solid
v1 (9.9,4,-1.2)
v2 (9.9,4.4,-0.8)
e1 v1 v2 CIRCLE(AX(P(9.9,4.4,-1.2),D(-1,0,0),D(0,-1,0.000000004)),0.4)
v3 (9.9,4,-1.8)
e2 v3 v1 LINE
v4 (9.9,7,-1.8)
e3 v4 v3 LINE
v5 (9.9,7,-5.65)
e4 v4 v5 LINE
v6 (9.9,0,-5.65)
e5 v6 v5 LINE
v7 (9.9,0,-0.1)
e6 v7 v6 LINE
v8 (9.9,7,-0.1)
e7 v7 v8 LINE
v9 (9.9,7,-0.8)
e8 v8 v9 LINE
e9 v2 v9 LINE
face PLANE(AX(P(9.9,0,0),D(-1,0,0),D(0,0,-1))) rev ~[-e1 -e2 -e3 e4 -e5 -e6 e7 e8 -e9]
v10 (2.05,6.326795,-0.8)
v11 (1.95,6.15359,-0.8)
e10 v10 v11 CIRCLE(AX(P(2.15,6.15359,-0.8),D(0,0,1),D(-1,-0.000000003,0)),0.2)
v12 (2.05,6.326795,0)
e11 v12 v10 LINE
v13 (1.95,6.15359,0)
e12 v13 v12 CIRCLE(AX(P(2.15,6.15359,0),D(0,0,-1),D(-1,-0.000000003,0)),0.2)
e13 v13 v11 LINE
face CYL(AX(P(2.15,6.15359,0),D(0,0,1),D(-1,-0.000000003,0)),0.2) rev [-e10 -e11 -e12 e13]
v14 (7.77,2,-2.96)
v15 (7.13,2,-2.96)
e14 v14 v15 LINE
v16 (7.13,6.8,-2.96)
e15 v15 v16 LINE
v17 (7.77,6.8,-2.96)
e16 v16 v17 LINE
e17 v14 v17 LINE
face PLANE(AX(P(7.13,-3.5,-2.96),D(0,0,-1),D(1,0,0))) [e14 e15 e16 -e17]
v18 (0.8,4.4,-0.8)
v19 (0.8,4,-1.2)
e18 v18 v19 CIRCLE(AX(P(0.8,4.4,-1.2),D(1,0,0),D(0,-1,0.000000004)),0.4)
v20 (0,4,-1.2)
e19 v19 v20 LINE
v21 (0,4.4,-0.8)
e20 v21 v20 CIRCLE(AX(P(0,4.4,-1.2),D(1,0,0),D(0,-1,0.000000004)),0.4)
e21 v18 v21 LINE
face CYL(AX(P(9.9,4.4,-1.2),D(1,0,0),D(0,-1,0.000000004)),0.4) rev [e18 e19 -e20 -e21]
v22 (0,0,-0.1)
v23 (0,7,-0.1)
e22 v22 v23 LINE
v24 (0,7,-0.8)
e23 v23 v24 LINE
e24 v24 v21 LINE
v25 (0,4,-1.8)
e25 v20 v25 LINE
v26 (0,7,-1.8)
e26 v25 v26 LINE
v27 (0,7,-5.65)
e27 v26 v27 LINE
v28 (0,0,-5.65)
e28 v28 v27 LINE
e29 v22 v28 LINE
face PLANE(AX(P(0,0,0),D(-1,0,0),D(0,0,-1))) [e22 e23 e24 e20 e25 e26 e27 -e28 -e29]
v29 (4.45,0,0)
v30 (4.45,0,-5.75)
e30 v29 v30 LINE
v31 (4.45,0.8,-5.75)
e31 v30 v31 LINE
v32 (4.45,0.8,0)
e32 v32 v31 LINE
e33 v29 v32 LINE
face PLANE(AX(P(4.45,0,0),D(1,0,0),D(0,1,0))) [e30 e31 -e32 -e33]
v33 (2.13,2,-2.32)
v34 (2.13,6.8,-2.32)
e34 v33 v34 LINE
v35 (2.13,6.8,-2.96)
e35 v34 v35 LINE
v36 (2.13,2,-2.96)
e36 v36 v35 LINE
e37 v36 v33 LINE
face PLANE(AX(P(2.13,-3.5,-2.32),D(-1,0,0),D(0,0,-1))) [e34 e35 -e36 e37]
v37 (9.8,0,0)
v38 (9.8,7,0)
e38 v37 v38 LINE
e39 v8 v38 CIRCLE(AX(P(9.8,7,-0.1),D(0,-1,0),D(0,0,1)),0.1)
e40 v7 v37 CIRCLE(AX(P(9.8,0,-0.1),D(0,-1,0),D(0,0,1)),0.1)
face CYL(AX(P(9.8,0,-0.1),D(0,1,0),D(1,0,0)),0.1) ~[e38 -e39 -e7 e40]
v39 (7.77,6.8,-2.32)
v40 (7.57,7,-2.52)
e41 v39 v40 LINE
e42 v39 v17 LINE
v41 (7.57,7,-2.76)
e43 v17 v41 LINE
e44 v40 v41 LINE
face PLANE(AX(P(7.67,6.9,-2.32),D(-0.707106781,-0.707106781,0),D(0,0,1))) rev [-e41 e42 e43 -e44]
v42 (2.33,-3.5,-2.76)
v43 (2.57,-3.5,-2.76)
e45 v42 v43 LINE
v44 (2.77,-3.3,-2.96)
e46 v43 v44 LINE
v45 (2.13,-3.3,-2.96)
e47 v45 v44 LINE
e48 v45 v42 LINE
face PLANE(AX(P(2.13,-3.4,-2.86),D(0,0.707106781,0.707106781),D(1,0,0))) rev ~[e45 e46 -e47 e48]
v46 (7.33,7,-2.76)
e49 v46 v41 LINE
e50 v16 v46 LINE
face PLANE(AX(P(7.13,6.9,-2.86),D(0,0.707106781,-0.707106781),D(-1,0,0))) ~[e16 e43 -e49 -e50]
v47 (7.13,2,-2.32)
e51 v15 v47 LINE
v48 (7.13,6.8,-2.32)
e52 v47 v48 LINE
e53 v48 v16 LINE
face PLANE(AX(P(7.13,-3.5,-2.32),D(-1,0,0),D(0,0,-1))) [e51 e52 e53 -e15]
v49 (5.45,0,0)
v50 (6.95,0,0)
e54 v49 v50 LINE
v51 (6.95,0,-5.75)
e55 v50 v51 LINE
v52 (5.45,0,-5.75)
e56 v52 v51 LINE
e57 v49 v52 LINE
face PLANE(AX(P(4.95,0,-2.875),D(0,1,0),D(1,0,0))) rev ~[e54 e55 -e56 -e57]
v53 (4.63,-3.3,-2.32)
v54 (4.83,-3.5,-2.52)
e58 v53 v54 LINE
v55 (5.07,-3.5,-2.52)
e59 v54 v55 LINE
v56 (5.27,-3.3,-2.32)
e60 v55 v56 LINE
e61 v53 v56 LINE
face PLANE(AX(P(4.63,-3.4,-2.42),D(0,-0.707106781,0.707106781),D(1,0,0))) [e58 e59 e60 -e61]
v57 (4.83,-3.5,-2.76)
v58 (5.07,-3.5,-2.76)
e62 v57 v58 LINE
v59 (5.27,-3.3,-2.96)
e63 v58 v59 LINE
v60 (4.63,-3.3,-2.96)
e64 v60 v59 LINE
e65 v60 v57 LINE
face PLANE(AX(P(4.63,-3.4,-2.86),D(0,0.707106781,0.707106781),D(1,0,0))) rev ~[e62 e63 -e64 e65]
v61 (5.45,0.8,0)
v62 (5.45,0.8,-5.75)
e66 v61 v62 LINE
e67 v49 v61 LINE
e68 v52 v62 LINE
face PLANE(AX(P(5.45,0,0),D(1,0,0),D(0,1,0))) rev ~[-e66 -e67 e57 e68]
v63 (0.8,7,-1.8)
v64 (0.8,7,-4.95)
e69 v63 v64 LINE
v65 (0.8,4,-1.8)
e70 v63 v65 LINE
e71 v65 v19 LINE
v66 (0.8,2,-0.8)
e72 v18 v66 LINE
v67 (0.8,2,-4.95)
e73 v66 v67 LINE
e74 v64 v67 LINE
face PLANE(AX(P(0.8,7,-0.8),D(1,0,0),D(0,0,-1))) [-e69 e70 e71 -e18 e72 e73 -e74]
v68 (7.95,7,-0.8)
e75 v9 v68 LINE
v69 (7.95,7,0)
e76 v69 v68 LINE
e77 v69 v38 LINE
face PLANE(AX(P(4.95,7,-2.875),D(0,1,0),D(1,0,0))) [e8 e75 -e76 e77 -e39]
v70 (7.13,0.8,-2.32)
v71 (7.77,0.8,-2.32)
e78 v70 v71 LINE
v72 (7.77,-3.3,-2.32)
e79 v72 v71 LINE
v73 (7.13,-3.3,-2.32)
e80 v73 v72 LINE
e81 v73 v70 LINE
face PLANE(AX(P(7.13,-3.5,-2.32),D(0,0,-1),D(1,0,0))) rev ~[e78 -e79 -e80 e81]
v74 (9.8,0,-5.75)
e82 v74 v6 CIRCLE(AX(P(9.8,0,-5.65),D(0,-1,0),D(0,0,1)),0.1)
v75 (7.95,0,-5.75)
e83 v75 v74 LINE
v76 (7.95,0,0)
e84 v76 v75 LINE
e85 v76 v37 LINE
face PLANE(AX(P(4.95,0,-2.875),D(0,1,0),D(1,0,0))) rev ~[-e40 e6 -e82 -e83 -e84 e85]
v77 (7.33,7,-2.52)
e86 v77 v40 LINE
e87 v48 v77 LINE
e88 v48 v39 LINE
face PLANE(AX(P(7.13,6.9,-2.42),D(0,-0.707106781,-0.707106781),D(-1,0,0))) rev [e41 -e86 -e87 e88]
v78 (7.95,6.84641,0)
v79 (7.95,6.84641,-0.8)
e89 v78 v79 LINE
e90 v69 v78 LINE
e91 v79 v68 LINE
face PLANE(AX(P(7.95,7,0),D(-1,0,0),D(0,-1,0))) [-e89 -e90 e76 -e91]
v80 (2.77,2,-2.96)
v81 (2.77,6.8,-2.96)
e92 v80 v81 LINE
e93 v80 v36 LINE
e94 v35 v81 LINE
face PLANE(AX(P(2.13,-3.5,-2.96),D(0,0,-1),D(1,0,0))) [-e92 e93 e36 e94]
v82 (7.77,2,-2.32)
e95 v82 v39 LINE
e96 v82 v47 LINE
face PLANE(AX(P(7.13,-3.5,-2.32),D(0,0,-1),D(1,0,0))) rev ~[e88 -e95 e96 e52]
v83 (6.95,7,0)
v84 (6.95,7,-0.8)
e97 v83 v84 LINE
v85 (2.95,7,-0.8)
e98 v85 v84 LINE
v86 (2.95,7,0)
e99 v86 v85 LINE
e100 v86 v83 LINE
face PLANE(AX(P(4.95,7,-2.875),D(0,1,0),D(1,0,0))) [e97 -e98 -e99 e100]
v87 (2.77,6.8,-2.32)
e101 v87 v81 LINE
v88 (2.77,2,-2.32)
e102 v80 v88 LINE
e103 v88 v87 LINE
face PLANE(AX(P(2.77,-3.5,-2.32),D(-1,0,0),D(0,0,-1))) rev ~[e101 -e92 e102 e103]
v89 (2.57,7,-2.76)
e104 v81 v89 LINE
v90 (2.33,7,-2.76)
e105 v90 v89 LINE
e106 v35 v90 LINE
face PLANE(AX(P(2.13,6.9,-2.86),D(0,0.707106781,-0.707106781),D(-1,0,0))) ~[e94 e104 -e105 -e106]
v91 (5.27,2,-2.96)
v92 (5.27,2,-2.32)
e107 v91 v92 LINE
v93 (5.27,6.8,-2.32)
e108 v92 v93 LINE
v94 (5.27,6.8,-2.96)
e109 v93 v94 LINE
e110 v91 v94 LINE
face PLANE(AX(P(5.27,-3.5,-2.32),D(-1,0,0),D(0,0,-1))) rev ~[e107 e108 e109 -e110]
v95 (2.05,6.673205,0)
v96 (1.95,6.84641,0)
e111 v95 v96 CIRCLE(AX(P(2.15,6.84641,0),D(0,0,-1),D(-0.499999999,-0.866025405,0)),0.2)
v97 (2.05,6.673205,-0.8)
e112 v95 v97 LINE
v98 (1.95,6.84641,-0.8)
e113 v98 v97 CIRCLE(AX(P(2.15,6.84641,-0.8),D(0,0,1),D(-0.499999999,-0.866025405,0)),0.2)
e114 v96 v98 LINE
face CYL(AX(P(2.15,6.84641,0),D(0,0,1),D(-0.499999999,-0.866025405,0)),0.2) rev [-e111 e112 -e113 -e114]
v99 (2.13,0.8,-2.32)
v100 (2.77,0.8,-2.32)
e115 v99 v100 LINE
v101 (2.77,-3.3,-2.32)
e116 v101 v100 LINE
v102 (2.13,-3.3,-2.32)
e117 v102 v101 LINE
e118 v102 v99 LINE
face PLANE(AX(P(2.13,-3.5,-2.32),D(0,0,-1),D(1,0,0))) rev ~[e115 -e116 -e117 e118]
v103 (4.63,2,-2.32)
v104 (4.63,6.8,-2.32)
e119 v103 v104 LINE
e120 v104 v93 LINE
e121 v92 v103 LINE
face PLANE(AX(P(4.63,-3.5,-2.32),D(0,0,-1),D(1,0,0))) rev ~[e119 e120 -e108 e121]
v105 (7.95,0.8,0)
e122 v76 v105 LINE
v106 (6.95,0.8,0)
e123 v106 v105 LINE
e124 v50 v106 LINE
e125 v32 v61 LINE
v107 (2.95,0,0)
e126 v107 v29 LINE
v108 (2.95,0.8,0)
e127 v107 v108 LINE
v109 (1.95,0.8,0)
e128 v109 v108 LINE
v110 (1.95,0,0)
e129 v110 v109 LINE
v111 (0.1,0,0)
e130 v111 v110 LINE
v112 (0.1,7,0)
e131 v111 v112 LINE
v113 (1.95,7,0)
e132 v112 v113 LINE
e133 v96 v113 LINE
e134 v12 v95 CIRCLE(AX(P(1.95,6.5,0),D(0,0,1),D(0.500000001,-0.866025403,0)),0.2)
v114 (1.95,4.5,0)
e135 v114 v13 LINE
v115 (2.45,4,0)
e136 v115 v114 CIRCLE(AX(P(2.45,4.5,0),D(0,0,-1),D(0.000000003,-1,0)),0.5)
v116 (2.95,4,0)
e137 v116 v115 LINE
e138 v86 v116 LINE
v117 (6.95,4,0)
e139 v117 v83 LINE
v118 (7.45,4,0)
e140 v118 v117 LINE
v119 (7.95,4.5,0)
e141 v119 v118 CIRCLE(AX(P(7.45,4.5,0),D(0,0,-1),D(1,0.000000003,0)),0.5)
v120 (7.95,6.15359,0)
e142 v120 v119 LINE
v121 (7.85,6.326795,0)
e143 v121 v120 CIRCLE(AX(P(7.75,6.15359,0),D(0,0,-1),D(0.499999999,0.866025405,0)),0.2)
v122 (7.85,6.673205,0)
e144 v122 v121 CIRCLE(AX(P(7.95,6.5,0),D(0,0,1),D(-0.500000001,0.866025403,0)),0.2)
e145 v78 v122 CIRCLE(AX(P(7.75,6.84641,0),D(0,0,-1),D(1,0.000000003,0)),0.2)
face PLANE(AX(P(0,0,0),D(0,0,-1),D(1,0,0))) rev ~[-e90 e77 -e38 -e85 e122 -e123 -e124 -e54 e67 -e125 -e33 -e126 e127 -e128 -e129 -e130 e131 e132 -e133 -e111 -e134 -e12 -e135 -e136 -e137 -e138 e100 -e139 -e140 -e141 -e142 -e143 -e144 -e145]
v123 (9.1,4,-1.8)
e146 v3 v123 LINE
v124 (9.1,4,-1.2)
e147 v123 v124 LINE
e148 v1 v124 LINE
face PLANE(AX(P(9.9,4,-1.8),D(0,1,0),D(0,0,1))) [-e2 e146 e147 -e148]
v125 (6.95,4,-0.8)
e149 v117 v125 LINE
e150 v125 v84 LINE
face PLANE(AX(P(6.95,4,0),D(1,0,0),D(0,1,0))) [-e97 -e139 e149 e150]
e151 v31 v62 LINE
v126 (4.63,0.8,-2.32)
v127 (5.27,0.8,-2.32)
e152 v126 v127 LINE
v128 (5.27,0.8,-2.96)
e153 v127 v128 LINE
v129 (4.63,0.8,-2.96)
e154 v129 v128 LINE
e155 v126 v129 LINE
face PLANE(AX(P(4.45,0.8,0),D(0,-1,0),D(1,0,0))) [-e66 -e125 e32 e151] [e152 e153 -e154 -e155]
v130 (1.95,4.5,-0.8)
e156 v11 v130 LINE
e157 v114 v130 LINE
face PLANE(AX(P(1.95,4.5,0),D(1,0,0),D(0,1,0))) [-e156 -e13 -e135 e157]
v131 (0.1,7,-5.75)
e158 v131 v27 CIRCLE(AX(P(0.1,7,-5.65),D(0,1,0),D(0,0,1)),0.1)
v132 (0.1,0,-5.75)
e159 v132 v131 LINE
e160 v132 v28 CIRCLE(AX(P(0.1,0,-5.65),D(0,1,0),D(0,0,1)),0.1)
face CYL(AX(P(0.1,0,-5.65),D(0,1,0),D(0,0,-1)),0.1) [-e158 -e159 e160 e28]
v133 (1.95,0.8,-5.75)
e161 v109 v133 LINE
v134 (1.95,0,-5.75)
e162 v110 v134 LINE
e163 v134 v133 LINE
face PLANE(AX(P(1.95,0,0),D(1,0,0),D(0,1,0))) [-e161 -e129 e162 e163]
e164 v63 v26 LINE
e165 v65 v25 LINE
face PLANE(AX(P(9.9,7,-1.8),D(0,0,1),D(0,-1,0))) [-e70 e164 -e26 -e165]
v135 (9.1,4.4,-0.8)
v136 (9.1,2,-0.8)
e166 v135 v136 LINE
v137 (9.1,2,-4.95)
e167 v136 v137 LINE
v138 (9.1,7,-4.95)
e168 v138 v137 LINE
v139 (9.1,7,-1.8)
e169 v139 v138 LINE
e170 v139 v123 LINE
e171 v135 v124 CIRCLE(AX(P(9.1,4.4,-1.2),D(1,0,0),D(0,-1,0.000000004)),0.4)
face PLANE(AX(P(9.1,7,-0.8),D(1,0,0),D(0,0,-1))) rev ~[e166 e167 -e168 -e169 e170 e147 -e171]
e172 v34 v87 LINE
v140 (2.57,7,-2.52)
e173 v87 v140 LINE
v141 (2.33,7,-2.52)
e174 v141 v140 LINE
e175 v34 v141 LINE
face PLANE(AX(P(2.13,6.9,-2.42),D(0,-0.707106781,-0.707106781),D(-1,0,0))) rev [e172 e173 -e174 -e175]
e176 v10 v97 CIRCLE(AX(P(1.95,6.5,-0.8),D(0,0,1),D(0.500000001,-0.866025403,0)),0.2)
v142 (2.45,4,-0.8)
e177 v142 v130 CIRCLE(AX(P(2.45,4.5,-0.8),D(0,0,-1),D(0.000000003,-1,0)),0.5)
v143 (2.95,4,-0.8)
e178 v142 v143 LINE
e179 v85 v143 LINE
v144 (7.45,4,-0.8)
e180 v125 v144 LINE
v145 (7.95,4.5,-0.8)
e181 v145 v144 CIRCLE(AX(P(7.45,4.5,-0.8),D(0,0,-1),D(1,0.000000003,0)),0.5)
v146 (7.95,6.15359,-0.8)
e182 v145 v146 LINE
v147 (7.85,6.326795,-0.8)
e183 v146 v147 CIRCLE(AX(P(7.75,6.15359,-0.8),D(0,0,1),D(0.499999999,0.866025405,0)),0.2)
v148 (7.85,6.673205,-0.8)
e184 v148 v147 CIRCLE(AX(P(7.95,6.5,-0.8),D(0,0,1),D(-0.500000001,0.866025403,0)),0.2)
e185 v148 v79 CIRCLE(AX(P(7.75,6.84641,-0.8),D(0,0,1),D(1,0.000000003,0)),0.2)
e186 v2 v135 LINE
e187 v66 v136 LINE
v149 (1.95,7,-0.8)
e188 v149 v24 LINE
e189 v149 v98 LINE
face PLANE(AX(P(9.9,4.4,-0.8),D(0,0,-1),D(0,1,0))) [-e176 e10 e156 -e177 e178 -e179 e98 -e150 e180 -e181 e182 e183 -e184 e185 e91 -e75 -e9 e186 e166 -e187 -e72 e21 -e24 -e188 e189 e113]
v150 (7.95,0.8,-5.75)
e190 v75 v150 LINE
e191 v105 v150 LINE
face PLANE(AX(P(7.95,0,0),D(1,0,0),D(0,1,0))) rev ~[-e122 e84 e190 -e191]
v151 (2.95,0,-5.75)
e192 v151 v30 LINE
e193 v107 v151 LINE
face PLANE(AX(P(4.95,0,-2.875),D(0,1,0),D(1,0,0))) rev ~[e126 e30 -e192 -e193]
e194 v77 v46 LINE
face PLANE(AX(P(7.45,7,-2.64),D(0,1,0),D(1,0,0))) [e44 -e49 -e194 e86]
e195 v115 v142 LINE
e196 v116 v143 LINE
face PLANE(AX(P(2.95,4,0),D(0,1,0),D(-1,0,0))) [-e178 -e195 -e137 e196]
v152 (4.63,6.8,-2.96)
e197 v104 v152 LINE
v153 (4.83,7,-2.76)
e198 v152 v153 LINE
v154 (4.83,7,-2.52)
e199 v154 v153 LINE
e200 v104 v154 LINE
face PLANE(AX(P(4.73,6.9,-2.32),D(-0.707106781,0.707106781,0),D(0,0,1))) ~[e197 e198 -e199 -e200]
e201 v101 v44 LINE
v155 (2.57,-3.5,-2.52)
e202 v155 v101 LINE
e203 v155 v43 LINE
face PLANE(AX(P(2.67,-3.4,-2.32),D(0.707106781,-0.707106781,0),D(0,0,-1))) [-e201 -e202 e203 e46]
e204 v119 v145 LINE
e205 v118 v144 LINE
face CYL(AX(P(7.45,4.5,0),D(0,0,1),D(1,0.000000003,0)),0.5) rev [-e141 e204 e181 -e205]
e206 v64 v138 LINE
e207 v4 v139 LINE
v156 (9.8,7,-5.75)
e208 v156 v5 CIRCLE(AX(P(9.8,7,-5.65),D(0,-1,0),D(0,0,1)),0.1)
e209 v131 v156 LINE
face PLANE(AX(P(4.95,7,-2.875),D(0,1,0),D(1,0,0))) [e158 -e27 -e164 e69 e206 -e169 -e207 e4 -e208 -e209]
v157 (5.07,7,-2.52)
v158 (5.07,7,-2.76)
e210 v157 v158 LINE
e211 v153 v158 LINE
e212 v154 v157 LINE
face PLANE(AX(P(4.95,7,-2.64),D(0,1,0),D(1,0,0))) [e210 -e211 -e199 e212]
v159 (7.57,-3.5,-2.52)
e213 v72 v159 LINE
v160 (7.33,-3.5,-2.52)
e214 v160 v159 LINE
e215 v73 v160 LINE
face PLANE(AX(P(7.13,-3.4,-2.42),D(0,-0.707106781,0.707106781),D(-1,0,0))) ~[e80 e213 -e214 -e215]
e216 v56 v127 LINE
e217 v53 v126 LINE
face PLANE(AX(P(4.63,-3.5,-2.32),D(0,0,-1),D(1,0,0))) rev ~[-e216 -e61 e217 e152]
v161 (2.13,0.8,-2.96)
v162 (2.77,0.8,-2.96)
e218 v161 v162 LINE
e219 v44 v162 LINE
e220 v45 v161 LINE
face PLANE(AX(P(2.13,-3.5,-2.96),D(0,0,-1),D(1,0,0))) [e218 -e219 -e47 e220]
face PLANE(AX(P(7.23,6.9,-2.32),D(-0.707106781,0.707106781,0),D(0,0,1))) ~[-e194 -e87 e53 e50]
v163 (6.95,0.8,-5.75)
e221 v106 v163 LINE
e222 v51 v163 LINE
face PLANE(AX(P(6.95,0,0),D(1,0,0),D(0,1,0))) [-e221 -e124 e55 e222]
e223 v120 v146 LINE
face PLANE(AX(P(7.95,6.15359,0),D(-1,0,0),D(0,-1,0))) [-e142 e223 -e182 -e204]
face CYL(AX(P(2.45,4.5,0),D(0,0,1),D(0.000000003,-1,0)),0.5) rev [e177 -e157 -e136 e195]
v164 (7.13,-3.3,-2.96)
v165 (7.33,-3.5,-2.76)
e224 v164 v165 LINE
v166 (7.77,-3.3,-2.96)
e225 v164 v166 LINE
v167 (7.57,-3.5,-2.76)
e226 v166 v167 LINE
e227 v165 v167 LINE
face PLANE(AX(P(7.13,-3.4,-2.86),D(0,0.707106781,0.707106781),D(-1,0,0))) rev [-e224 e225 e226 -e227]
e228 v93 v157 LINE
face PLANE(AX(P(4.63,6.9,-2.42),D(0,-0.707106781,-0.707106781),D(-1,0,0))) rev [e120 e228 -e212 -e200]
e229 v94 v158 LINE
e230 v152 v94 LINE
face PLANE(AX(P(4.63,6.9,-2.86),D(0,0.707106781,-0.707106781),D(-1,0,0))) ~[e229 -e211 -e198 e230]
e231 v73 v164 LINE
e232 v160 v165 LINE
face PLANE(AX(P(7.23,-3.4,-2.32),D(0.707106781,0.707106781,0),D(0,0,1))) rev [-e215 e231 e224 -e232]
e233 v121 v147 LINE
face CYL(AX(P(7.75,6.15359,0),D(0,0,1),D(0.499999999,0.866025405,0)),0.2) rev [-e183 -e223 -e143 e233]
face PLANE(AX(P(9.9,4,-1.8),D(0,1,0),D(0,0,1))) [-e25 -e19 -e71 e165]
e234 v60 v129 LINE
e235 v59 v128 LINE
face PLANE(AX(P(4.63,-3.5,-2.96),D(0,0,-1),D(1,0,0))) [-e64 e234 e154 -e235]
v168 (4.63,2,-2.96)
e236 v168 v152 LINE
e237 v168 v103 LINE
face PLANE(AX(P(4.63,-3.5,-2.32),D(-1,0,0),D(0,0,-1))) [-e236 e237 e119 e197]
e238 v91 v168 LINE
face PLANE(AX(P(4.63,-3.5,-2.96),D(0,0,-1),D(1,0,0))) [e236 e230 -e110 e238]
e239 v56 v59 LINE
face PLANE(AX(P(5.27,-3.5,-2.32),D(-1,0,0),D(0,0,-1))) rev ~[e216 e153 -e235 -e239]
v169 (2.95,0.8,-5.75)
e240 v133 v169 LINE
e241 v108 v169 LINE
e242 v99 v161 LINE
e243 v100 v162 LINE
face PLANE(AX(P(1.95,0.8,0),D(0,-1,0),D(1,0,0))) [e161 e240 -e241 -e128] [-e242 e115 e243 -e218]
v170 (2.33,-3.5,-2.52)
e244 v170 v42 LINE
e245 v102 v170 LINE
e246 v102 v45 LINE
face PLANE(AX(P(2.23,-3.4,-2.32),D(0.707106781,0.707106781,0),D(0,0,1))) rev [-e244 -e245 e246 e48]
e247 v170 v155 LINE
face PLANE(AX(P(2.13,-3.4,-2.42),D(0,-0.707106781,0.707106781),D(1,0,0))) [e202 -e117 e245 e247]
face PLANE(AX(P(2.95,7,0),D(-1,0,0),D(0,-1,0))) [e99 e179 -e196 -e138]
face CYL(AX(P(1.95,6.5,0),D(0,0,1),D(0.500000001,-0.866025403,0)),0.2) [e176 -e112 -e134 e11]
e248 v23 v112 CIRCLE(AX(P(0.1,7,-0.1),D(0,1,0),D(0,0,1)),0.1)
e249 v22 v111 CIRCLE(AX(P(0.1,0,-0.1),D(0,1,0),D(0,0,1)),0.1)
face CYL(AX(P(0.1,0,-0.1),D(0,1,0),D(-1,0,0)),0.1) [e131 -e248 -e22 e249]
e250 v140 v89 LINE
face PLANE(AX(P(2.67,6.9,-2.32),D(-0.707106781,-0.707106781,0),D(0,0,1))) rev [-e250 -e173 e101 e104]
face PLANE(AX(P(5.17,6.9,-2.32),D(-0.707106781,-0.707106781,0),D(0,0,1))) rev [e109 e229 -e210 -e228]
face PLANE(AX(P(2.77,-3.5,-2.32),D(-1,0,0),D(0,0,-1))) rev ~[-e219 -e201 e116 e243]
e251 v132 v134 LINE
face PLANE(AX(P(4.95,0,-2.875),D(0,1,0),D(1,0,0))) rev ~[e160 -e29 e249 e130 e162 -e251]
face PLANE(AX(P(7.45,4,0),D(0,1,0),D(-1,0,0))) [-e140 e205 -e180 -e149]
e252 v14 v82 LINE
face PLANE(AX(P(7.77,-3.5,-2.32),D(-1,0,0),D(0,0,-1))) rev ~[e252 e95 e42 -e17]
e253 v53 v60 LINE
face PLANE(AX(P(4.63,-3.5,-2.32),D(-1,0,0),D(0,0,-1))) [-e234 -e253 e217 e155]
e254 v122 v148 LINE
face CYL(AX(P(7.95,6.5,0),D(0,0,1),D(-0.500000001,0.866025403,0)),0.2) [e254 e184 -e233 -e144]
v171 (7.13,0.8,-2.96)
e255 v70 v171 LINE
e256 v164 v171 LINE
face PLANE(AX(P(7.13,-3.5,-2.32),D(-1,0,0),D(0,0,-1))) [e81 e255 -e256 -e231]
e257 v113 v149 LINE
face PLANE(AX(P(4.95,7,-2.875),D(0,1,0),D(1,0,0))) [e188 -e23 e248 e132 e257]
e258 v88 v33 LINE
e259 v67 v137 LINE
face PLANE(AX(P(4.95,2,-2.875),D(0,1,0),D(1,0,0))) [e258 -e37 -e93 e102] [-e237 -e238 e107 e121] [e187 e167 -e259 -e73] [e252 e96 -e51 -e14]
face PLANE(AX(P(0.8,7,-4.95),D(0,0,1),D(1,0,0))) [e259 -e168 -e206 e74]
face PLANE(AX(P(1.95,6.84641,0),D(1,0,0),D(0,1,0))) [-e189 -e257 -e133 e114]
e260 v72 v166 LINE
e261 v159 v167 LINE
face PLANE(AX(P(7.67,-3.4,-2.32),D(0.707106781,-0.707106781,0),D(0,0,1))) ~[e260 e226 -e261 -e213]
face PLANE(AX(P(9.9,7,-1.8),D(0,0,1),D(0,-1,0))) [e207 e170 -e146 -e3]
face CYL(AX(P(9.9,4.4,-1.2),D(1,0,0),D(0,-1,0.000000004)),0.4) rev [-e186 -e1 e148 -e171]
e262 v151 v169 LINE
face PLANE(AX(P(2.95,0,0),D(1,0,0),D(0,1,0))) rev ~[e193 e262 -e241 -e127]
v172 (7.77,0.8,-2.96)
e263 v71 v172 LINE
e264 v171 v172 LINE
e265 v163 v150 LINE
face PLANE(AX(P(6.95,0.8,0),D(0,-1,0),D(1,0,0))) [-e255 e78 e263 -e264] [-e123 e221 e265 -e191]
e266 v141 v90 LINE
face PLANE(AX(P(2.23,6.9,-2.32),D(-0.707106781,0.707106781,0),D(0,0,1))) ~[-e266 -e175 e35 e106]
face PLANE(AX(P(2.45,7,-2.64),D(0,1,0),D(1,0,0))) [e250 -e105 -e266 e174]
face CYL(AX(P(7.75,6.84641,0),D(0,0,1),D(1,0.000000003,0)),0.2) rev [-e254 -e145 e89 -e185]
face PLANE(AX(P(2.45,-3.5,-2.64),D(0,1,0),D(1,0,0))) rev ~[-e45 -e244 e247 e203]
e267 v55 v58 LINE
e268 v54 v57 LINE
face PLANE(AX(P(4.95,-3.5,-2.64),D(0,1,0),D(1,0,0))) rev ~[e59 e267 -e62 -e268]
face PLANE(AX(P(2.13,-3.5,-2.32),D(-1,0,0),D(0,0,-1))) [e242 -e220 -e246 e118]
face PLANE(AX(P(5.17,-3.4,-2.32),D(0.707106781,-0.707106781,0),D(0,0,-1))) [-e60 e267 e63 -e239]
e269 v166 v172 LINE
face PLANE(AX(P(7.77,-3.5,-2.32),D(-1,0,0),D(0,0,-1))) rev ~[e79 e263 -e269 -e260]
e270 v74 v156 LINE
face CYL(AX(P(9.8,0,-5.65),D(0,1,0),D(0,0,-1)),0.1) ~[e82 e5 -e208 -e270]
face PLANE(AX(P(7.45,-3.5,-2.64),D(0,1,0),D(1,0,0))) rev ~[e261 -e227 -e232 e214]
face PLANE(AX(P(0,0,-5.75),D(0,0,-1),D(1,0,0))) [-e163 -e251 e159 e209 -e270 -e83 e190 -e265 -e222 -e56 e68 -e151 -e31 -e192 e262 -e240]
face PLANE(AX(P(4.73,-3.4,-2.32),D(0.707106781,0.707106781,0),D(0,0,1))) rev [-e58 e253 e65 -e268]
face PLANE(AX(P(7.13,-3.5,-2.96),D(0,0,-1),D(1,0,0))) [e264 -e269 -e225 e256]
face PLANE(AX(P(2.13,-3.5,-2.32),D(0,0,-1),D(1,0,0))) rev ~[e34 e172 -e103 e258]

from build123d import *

# Parameters (mm, degrees)
SKETCH_1_W                         = 9.9
SKETCH_1_H                         = 5.75
EXTRUDE_1_DEPTH                    = 7
SKETCH_2_W                         = 8.3
SKETCH_2_H                         = 4.15
CUT_EXTRUDE_1_DEPTH                = 5
CUT_EXTRUDE_2_REACH                = 15.419
SKETCH_3_W                         = 1
SKETCH_3_H                         = 0.8
EXTRUDE_START                      = -5.5
SKETCH_4_W                         = 0.64
SKETCH_4_H                         = 0.64
EXTRUDE_2_DEPTH                    = 10.5
CHAMFER_1_SIZE                     = 0.2
PATTERN_LINEAR_4_COUNT             = 3
PATTERN_LINEAR_4_PITCH             = 2.5
CHAMFER_1_OF_PATTERN_LINEAR_4_SIZE = 0.2
CUT_EXTRUDE_3_REACH                = 15.419
CUT_EXTRUDE_4_DEPTH                = 14.419109508
FILLET_1_R                         = 0.1


with BuildPart() as part:
    # Эскиз1 → Бобышка-Вытянуть1 (new body)
    with BuildSketch(Plane(origin=(0, 0, 0), x_dir=(1, 0, 0), z_dir=(0, 1, 0))):
        with Locations((4.95, 2.875)):
            Rectangle(SKETCH_1_W, SKETCH_1_H)
    extrude(amount=EXTRUDE_1_DEPTH)

    # Эскиз2 → Вырез-Вытянуть1 (cut)
    with BuildSketch(Plane(origin=(0, 7, 0), x_dir=(1, 0, 0), z_dir=(0, 1, 0))):
        with Locations((4.95, 2.875)):
            Rectangle(SKETCH_2_W, SKETCH_2_H)
    extrude(amount=-CUT_EXTRUDE_1_DEPTH, mode=Mode.SUBTRACT)

    # Эскиз3 → Вырез-Вытянуть2 (cut, up to next)
    with BuildSketch(Plane.XY, mode=Mode.PRIVATE) as cut_extrude_2_sk1:
        with Locations((2.45, 0.4)):
            Rectangle(SKETCH_3_W, SKETCH_3_H)
    cut_extrude_2_tool1 = extrude(cut_extrude_2_sk1.sketch, amount=-CUT_EXTRUDE_2_REACH, mode=Mode.PRIVATE) & part.part
    # Эскиз3 → Вырез-Вытянуть2 (cut, up to next)
    with BuildSketch(Plane.XY, mode=Mode.PRIVATE) as cut_extrude_2_sk2:
        with Locations((4.95, 0.4)):
            Rectangle(SKETCH_3_W, SKETCH_3_H)
    cut_extrude_2_tool2 = extrude(cut_extrude_2_sk2.sketch, amount=-CUT_EXTRUDE_2_REACH, mode=Mode.PRIVATE) & part.part
    # Эскиз3 → Вырез-Вытянуть2 (cut, up to next)
    with BuildSketch(Plane.XY, mode=Mode.PRIVATE) as cut_extrude_2_sk3:
        with Locations((7.45, 0.4)):
            Rectangle(SKETCH_3_W, SKETCH_3_H)
    cut_extrude_2_tool3 = extrude(cut_extrude_2_sk3.sketch, amount=-CUT_EXTRUDE_2_REACH, mode=Mode.PRIVATE) & part.part
    add(cut_extrude_2_tool1.solids().sort_by_distance((2.45, 0.4, 0))[0], mode=Mode.SUBTRACT)
    add(cut_extrude_2_tool2.solids().sort_by_distance((4.95, 0.4, 0))[0], mode=Mode.SUBTRACT)
    add(cut_extrude_2_tool3.solids().sort_by_distance((7.45, 0.4, 0))[0], mode=Mode.SUBTRACT)

    # Эскиз4 → Бобышка-Вытянуть2 (add)
    with BuildSketch(Plane(origin=(0, 2, 0), x_dir=(1, 0, 0), z_dir=(0, 1, 0)).offset(EXTRUDE_START)):
        with Locations((2.45, 2.64)):
            Rectangle(SKETCH_4_W, SKETCH_4_H)
    extrude_2 = extrude(amount=EXTRUDE_2_DEPTH)

    # Фаска1
    chamfer_1_edges = [part.edges().sort_by_distance(p)[0] for p in [
        (2.13, 7, -2.64),
        (2.13, -3.5, -2.64),
        (2.45, 7, -2.96),
        (2.45, -3.5, -2.96),
        (2.77, 7, -2.64),
        (2.77, -3.5, -2.64),
        (2.45, 7, -2.32),
        (2.45, -3.5, -2.32),
    ]]
    chamfer(chamfer_1_edges, length=CHAMFER_1_SIZE)

    # Линейный массив4: Бобышка-Вытянуть2 ×3
    with Locations(*[(i * PATTERN_LINEAR_4_PITCH, 0, 0) for i in range(1, PATTERN_LINEAR_4_COUNT)]):
        add(extrude_2)

    # Фаска1 of Линейный массив4
    chamfer_1_of_pattern_linear_4_edges = [part.edges().sort_by_distance(p)[0] for p in [
        (4.63, 7, -2.64),
        (4.63, -3.5, -2.64),
        (4.95, 7, -2.96),
        (4.95, -3.5, -2.96),
        (5.27, 7, -2.64),
        (5.27, -3.5, -2.64),
        (4.95, 7, -2.32),
        (4.95, -3.5, -2.32),
        (7.13, 7, -2.64),
        (7.13, -3.5, -2.64),
        (7.45, 7, -2.96),
        (7.45, -3.5, -2.96),
        (7.77, 7, -2.64),
        (7.77, -3.5, -2.64),
        (7.45, 7, -2.32),
        (7.45, -3.5, -2.32),
    ]]
    chamfer(chamfer_1_of_pattern_linear_4_edges, length=CHAMFER_1_OF_PATTERN_LINEAR_4_SIZE)

    # Эскиз5 → Вырез-Вытянуть3 (cut, up to next)
    with BuildSketch(Plane.XY, mode=Mode.PRIVATE) as cut_extrude_3_sk1:
        with BuildLine():
            Line((1.95, 7), (2.95, 7))
            Line((2.95, 7), (2.95, 4))
            Line((2.95, 4), (2.45, 4))
            ThreePointArc((2.45, 4), (2.096446609, 4.146446609), (1.95, 4.5))
            Line((1.95, 4.5), (1.95, 6.153589838))
            ThreePointArc((1.95, 6.153589838), (1.976794919, 6.253589838), (2.05, 6.326794919))
            ThreePointArc((2.05, 6.326794919), (2.15, 6.5), (2.05, 6.673205081))
            ThreePointArc((2.05, 6.673205081), (1.976794919, 6.746410162), (1.95, 6.846410162))
            Line((1.95, 6.846410162), (1.95, 7))
        make_face()
    cut_extrude_3_tool1 = extrude(cut_extrude_3_sk1.sketch, amount=-CUT_EXTRUDE_3_REACH, mode=Mode.PRIVATE) & part.part
    # Эскиз5 → Вырез-Вытянуть3 (cut, up to next)
    with BuildSketch(Plane.XY, mode=Mode.PRIVATE) as cut_extrude_3_sk2:
        with BuildLine():
            Line((6.95, 7), (7.95, 7))
            Line((7.95, 7), (7.95, 6.846410162))
            ThreePointArc((7.95, 6.846410162), (7.923205081, 6.746410162), (7.85, 6.673205081))
            ThreePointArc((7.85, 6.673205081), (7.75, 6.5), (7.85, 6.326794919))
            ThreePointArc((7.85, 6.326794919), (7.923205081, 6.253589838), (7.95, 6.153589838))
            Line((7.95, 6.153589838), (7.95, 4.5))
            ThreePointArc((7.95, 4.5), (7.803553391, 4.146446609), (7.45, 4))
            Line((7.45, 4), (6.95, 4))
            Line((6.95, 4), (6.95, 7))
        make_face()
    cut_extrude_3_tool2 = extrude(cut_extrude_3_sk2.sketch, amount=-CUT_EXTRUDE_3_REACH, mode=Mode.PRIVATE) & part.part
    add(cut_extrude_3_tool1.solids().sort_by_distance((2.467377, 5.501808, 0))[0], mode=Mode.SUBTRACT)
    add(cut_extrude_3_tool2.solids().sort_by_distance((7.432623, 5.501808, 0))[0], mode=Mode.SUBTRACT)

    # Эскиз6 → Вырез-Вытянуть4 (cut, through all)
    with BuildSketch(Plane(origin=(9.9, 0, 0), x_dir=(0, 0, -1), z_dir=(1, 0, 0))):
        with BuildLine():
            Line((0.8, 7), (1.8, 7))
            Line((1.8, 7), (1.8, 4))
            Line((1.8, 4), (1.2, 4))
            ThreePointArc((1.2, 4), (0.917157288, 4.117157288), (0.8, 4.4))
            Line((0.8, 4.4), (0.8, 7))
        make_face()
    extrude(amount=-CUT_EXTRUDE_4_DEPTH, mode=Mode.SUBTRACT)

    # Скругление1
    fillet_1_edges = [part.edges().sort_by_distance(p)[0] for p in [
        (0, 3.5, -5.75),
        (9.9, 3.5, -5.75),
        (9.9, 3.5, 0),
        (0, 3.5, 0),
    ]]
    fillet(fillet_1_edges, radius=FILLET_1_R)


solid = part.part
